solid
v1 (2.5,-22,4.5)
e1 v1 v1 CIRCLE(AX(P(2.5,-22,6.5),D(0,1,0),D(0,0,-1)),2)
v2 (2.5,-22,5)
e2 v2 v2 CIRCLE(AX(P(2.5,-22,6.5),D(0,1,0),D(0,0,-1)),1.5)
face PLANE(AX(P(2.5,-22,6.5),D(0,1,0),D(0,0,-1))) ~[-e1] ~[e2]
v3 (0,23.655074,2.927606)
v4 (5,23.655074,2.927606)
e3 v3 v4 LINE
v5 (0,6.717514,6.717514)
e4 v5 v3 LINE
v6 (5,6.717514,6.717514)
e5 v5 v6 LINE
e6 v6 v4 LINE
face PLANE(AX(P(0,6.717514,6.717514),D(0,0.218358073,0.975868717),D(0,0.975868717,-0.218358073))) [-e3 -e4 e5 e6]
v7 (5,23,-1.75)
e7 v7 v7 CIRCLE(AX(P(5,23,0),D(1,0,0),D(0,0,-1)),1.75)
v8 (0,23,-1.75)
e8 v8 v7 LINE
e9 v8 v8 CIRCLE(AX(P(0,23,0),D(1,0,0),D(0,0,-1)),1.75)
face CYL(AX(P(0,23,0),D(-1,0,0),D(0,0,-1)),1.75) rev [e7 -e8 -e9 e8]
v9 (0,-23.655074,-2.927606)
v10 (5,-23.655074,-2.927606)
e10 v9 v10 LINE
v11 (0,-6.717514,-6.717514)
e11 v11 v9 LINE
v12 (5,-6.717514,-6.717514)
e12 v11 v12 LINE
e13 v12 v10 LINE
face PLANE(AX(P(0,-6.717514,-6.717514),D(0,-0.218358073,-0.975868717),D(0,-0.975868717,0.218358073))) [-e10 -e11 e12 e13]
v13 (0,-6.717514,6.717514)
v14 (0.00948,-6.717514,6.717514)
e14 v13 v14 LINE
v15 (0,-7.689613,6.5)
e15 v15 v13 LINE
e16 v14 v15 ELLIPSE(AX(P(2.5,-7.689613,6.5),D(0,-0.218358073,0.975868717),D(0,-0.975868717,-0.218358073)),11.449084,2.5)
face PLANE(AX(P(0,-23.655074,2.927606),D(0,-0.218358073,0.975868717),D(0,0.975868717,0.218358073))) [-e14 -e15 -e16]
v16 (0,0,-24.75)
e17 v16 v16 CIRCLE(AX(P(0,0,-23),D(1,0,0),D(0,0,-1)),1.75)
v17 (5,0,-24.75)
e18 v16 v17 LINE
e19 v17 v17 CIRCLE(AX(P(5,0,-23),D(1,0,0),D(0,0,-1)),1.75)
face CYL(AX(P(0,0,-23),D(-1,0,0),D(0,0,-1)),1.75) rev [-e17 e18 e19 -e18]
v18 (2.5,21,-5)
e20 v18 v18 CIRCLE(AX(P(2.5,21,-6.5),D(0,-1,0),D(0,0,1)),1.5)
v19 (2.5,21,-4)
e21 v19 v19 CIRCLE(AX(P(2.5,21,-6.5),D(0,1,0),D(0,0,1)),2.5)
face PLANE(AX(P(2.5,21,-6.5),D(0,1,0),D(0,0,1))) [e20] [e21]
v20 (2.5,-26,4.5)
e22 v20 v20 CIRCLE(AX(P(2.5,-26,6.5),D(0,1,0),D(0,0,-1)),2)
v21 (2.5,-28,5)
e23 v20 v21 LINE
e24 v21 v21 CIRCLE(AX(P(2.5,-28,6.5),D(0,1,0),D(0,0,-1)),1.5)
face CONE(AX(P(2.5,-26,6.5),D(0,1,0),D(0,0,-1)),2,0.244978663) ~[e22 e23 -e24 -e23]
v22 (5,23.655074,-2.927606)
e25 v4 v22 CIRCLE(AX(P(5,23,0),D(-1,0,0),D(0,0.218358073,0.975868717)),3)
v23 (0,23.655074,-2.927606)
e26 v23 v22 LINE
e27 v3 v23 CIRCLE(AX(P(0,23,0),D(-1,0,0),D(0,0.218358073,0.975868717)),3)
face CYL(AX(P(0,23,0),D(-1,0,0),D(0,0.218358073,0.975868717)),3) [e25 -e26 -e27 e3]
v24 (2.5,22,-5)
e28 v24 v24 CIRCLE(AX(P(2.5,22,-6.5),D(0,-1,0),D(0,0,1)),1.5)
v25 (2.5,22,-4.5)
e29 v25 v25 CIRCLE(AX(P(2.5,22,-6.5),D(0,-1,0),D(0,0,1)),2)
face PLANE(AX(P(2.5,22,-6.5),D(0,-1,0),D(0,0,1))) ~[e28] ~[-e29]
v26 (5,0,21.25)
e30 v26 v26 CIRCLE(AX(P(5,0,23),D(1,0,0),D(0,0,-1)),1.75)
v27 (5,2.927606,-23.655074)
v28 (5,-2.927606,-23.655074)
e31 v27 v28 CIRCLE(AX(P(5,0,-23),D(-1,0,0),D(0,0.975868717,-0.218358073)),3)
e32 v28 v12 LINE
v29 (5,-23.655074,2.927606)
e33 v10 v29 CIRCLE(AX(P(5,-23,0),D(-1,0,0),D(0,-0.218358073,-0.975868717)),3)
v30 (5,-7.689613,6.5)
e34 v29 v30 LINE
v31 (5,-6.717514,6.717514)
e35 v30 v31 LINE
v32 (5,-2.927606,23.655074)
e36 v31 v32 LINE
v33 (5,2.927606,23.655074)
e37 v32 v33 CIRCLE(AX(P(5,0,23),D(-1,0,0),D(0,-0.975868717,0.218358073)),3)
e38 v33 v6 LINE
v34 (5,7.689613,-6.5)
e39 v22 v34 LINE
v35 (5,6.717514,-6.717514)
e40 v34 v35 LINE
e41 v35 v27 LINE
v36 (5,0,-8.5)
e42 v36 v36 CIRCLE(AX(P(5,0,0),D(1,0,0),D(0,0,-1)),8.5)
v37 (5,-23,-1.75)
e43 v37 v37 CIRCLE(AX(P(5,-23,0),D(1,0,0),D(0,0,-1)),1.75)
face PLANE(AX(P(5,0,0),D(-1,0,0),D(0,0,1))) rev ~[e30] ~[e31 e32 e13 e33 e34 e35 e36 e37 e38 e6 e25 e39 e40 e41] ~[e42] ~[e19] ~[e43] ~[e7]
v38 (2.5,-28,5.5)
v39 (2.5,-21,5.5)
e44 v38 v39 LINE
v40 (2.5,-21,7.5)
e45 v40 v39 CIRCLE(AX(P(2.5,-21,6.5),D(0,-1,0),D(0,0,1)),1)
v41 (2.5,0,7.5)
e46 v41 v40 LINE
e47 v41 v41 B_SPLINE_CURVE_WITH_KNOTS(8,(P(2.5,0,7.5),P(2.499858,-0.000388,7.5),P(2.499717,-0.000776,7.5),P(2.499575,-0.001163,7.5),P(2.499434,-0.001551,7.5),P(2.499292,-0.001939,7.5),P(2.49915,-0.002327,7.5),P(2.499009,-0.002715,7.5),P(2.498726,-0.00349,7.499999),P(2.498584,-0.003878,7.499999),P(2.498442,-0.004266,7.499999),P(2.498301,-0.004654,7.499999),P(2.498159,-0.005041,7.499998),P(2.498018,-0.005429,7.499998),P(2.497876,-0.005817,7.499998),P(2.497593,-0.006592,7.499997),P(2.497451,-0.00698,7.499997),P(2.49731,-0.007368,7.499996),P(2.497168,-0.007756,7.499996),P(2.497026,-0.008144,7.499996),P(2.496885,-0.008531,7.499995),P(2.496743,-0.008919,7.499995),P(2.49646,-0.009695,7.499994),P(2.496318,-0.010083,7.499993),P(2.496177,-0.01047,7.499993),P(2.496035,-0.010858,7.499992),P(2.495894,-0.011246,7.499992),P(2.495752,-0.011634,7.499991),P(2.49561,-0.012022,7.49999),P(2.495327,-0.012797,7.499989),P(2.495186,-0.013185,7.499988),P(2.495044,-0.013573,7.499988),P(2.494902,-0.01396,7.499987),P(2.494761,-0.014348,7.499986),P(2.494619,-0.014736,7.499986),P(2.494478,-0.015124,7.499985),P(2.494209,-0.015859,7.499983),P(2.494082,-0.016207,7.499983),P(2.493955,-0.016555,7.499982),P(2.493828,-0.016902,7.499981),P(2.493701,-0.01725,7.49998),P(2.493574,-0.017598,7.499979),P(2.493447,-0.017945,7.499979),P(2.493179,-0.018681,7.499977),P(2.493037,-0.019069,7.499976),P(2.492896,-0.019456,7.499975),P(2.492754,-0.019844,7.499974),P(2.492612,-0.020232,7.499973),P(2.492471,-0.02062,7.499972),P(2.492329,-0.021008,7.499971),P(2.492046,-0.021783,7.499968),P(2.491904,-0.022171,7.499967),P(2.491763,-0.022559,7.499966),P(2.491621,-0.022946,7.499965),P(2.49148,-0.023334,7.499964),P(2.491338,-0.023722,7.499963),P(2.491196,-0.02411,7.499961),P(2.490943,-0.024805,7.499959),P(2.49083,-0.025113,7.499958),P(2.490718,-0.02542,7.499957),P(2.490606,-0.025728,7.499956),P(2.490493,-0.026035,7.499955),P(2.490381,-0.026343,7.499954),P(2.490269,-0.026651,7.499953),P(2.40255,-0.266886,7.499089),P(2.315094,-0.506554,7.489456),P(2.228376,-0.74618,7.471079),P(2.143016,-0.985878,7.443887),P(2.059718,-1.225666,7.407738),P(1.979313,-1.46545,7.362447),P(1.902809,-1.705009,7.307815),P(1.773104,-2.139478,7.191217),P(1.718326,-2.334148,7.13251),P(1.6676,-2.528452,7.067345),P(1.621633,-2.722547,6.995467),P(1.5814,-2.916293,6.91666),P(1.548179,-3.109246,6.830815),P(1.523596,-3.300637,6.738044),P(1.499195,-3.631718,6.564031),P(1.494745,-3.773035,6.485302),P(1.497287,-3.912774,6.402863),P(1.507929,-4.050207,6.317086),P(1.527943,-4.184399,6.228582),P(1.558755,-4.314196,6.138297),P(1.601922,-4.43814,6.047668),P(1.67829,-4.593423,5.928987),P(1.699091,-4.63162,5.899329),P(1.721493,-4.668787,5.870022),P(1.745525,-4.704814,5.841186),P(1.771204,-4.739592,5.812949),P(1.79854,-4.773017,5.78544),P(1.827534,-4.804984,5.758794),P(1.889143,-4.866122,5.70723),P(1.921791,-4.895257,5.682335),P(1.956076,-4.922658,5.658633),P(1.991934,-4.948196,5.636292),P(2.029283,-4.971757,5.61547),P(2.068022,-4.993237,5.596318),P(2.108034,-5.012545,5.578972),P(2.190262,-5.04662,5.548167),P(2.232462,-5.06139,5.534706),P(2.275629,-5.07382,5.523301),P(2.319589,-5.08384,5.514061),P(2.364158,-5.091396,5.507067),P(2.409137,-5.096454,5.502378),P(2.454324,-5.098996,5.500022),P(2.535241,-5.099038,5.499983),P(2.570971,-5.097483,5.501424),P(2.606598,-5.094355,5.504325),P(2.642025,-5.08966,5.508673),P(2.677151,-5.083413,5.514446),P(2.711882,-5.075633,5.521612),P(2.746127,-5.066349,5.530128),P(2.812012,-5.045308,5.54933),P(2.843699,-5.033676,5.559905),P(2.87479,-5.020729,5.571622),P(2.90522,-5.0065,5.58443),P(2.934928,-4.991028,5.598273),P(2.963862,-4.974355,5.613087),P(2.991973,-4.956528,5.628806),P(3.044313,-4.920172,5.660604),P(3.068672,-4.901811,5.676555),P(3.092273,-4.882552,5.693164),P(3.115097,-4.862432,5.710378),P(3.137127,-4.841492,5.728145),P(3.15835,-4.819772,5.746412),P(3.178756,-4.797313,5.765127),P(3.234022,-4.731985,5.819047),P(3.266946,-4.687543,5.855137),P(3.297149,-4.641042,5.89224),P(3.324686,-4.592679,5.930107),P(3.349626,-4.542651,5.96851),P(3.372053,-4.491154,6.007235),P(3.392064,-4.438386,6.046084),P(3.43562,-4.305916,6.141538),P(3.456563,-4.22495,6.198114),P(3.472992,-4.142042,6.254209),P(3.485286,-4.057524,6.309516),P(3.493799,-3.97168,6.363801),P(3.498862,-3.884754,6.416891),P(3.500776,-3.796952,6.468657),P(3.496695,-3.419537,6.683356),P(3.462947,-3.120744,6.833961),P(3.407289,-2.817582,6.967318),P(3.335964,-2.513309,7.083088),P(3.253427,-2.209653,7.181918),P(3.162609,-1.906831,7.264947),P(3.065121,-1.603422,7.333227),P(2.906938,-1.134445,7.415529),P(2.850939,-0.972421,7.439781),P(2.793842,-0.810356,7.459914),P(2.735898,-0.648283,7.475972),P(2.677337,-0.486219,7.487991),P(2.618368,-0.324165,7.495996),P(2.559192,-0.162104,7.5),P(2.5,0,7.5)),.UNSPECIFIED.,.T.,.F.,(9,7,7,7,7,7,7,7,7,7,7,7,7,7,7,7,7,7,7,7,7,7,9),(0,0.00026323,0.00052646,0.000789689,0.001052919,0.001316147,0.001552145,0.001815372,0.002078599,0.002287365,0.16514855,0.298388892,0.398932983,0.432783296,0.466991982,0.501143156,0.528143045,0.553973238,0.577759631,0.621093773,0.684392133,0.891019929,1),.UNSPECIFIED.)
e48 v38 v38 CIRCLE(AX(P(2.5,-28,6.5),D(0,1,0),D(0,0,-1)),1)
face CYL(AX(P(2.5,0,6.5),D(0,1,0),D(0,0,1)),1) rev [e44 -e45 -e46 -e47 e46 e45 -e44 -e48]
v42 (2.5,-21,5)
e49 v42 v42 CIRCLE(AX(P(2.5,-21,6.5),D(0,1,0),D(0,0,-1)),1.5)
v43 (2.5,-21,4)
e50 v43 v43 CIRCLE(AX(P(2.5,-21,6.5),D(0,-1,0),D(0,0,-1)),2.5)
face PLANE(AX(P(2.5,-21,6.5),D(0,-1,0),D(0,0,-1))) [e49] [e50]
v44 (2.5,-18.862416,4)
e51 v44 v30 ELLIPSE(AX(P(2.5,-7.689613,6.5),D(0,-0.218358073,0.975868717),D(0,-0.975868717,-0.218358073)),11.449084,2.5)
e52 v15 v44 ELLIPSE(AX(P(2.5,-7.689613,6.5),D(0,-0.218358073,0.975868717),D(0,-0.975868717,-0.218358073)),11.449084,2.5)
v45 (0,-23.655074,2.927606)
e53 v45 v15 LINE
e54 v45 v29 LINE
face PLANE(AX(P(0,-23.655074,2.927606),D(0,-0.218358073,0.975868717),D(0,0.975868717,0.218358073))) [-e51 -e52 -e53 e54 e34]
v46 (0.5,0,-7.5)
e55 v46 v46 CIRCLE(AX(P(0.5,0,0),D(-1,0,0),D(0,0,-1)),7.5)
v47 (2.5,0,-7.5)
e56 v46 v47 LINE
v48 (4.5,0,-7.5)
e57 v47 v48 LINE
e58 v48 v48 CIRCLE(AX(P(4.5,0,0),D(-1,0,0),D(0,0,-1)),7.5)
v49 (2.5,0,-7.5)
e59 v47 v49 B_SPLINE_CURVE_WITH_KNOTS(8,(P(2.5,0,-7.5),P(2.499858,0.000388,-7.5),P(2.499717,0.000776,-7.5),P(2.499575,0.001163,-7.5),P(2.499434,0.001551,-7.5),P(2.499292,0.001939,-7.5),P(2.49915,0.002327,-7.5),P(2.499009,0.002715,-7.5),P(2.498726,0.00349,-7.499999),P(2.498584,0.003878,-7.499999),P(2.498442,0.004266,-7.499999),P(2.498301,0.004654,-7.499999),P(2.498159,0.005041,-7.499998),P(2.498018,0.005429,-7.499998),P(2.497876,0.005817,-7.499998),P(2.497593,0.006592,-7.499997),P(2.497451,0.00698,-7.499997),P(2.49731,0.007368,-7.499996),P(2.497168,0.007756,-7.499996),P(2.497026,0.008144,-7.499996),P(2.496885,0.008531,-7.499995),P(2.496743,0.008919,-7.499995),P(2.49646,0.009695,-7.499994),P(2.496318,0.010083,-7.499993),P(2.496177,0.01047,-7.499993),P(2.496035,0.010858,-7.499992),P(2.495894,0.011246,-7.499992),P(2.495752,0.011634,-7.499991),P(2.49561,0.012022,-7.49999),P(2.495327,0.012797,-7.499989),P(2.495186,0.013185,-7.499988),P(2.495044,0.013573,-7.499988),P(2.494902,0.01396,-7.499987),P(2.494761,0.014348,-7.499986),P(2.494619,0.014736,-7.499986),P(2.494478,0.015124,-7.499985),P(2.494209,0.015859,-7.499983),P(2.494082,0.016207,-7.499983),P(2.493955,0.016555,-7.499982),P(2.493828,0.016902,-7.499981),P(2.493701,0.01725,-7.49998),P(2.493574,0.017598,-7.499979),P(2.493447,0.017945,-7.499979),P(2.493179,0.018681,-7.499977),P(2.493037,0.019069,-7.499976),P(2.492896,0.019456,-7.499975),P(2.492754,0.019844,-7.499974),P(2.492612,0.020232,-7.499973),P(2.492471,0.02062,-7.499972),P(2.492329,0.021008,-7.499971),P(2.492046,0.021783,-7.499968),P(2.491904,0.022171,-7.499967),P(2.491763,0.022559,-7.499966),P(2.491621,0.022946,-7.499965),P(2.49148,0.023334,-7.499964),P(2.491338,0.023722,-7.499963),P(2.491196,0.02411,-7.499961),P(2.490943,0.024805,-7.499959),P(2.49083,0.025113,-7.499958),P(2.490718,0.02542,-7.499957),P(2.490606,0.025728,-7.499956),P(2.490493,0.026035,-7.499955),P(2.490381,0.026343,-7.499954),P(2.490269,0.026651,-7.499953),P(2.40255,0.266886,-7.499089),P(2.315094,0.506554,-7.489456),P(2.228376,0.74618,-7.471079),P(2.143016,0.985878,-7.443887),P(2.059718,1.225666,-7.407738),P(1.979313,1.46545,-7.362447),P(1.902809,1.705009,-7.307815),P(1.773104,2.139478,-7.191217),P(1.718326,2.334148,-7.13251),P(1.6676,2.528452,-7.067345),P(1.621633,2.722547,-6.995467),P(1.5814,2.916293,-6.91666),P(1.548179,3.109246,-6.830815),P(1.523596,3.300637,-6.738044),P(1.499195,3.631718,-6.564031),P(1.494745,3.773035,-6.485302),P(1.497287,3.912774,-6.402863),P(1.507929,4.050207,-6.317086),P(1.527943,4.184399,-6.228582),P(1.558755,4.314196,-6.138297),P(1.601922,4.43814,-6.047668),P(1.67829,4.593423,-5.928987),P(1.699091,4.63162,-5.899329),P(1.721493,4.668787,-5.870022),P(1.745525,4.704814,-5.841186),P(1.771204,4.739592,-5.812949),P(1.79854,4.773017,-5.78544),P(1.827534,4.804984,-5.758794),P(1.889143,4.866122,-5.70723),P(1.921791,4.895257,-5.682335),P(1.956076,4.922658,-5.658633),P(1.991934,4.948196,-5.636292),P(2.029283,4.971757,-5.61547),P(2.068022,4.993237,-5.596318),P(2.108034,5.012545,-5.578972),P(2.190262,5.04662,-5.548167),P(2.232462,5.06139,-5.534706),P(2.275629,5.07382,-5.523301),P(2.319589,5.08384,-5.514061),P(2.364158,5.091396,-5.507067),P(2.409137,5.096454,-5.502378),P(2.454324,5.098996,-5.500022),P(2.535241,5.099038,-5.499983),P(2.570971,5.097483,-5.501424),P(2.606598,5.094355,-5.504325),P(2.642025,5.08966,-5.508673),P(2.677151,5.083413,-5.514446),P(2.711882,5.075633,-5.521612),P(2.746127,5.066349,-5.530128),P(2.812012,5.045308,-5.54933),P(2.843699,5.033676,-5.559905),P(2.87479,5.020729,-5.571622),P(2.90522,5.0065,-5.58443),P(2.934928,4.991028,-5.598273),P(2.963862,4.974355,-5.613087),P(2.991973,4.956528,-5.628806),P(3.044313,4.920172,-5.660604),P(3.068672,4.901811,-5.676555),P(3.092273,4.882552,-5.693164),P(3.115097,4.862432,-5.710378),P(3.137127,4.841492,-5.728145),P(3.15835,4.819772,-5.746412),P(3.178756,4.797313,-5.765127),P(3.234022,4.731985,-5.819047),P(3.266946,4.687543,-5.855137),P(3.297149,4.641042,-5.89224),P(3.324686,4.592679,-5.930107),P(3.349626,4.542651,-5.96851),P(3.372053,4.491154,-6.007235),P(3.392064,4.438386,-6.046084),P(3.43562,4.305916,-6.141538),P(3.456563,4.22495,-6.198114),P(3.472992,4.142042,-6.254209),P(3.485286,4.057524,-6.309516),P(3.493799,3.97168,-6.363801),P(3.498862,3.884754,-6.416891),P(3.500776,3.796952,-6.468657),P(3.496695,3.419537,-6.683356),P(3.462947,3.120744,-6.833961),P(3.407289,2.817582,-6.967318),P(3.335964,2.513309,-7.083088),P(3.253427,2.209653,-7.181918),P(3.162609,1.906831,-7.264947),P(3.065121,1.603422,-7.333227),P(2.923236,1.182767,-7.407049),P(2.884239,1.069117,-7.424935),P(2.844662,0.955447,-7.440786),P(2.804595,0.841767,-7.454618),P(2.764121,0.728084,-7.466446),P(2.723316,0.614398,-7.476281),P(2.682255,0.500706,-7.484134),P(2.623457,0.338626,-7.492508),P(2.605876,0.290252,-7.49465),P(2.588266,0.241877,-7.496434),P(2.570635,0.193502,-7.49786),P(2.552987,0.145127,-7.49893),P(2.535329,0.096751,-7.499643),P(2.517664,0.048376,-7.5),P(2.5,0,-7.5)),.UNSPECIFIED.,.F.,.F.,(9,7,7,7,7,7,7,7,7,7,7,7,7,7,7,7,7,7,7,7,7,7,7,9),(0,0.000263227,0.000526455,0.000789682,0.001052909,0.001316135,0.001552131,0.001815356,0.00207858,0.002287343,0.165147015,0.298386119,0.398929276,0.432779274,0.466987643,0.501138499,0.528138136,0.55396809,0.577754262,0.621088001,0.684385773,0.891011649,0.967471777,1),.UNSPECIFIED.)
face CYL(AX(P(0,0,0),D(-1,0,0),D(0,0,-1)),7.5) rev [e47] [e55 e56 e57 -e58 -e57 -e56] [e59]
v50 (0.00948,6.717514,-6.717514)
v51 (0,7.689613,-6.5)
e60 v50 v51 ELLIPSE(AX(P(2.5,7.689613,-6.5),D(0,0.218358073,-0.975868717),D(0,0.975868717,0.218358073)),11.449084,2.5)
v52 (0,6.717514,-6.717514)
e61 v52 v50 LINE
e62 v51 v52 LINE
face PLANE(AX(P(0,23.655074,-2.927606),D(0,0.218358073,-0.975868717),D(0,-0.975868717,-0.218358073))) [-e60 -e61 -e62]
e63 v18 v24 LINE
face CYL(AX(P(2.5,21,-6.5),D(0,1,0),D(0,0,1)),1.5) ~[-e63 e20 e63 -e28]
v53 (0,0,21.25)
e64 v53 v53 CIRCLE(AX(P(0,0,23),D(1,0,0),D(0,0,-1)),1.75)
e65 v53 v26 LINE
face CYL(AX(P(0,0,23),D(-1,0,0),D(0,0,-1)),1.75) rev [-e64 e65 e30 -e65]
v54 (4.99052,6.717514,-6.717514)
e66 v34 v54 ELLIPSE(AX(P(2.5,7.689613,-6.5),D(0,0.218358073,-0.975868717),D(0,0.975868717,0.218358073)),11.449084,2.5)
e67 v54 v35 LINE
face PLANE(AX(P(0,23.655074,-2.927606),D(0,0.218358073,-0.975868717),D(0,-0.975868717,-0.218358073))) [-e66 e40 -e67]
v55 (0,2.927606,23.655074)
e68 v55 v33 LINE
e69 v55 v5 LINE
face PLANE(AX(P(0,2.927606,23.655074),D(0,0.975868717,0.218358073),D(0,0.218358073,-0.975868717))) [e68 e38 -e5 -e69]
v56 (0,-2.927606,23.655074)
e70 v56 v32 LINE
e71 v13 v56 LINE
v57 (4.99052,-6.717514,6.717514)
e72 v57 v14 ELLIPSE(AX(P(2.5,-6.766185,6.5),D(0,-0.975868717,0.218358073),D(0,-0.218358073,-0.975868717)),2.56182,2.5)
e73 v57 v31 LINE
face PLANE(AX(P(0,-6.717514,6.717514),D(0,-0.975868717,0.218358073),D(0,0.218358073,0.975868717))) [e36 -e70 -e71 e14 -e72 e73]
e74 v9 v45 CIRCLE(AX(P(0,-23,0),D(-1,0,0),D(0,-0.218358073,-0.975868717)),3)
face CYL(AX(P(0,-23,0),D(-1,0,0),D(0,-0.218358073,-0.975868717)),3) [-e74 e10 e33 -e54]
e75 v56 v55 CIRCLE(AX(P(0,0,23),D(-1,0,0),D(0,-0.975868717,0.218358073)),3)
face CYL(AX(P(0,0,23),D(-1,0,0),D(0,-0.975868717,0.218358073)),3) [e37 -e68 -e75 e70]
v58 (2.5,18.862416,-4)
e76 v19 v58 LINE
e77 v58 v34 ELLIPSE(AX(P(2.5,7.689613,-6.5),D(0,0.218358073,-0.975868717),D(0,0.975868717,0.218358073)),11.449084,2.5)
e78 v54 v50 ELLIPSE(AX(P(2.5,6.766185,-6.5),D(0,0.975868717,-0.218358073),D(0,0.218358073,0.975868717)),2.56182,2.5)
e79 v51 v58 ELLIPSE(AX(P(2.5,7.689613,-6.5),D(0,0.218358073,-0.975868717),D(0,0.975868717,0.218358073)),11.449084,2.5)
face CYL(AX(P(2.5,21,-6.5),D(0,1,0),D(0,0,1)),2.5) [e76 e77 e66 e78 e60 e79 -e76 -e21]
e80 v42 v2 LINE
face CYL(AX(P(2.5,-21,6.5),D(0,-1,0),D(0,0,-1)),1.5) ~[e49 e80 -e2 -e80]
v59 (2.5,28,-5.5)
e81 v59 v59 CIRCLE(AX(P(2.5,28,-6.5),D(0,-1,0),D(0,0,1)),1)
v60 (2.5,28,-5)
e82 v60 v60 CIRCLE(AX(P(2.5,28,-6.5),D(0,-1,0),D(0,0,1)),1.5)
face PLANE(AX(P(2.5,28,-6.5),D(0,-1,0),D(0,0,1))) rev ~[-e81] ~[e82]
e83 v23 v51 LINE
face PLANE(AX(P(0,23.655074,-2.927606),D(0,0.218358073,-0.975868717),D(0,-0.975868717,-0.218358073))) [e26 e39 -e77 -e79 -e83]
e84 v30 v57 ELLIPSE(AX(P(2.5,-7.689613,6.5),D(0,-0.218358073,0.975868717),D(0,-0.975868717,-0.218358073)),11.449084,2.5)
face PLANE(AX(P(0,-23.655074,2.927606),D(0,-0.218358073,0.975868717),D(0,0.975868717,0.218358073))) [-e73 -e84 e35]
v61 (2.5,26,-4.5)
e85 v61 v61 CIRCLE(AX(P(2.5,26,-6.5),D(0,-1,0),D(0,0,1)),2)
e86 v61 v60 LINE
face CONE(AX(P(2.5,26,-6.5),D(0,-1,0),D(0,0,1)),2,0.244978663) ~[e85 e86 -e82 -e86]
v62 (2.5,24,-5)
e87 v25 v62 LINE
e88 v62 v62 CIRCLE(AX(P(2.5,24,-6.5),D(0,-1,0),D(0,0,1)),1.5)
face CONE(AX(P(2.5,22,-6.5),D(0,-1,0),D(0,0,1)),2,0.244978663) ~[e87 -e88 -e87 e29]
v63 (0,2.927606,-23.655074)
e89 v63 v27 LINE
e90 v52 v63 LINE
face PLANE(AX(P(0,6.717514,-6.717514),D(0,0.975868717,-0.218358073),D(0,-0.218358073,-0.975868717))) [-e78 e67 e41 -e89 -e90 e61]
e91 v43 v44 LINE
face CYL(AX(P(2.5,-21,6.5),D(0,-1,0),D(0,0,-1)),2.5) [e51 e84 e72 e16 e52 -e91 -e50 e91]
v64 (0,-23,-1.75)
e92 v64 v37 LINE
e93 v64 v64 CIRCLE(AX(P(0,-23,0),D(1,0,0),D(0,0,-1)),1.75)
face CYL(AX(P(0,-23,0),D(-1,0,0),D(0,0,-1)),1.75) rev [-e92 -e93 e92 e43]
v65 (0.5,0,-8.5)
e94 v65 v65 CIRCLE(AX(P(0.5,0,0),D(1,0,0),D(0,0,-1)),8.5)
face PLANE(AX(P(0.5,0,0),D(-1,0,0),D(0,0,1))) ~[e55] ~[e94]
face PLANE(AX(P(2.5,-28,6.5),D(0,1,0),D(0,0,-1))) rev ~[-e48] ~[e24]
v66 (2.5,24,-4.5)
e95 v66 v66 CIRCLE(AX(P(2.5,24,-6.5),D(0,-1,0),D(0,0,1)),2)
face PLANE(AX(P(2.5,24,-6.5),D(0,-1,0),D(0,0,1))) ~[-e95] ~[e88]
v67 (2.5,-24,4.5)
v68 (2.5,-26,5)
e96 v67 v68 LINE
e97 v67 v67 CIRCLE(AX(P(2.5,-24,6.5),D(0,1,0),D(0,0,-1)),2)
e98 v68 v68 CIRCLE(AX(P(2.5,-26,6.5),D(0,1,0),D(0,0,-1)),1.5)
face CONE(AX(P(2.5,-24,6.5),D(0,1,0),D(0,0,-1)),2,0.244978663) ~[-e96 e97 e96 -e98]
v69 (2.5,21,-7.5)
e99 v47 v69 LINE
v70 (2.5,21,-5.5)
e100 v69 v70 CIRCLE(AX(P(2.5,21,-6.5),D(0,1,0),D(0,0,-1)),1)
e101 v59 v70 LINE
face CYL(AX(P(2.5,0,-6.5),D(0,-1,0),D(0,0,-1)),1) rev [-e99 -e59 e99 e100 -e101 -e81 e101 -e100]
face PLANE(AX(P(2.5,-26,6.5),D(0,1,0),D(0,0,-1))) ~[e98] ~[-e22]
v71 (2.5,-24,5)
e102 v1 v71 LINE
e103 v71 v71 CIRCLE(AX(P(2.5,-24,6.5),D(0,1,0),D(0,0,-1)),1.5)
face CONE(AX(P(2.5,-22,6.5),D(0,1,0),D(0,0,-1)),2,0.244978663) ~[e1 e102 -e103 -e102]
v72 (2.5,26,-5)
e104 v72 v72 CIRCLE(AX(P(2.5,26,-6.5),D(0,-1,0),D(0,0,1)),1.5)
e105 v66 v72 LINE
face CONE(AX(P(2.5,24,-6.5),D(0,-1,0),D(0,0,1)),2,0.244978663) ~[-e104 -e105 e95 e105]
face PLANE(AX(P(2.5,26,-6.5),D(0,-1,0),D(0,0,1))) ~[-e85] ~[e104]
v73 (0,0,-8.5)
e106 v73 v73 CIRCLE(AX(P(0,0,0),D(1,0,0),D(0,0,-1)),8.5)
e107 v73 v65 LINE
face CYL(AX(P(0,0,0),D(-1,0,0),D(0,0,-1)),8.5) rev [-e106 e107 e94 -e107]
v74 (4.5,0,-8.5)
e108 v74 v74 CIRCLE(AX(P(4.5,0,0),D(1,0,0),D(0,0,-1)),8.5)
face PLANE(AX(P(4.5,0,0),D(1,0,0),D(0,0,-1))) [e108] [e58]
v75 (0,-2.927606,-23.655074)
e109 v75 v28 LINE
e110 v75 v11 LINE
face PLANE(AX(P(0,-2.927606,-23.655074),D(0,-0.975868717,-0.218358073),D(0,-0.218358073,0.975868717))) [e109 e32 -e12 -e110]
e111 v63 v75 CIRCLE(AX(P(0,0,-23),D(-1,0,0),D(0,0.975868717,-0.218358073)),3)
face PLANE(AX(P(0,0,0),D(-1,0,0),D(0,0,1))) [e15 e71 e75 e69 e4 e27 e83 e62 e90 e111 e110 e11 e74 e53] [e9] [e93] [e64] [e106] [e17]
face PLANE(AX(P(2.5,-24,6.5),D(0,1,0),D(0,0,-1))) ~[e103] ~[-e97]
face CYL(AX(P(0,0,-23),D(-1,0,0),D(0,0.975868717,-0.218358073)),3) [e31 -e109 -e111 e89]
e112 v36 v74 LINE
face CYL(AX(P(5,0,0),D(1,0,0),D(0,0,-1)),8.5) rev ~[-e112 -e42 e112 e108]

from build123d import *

# Parameters (mm, degrees)
SKETCH2_R           = 1.75
SKETCH2_R_2         = 7.5
FLANGE_DEPTH        = 5
SKETCH3_R           = 8.5
O_RING_SEAT_DEPTH   = 0.5
SKETCH5_R           = 1
OUTLET_DEPTH        = 38.107950631
BOSS_EXTRUDE2_REACH = 55.944
SKETCH6_R           = 2.5
SKETCH6_R_2         = 1
CIRPATTERN1_COUNT   = 2


with BuildPart() as part:
    # Sketch2 → Flange (new body)
    with BuildSketch(Plane(origin=(0, 0, 0), x_dir=(0, 0, -1), z_dir=(1, 0, 0))):
        with BuildLine():
            Line((-6.717514421, 6.717514421), (-2.92760615, 23.655074219))
            ThreePointArc((-2.92760615, 23.655074219), (0, 26), (2.92760615, 23.655074219))
            Line((2.92760615, 23.655074219), (6.717514421, 6.717514421))
            Line((6.717514421, 6.717514421), (23.655074219, 2.92760615))
            ThreePointArc((23.655074219, 2.92760615), (26, 0), (23.655074219, -2.92760615))
            Line((23.655074219, -2.92760615), (6.717514421, -6.717514421))
            Line((6.717514421, -6.717514421), (2.92760615, -23.655074219))
            ThreePointArc((2.92760615, -23.655074219), (0, -26), (-2.92760615, -23.655074219))
            Line((-2.92760615, -23.655074219), (-6.717514421, -6.717514421))
            Line((-6.717514421, -6.717514421), (-23.655074219, -2.92760615))
            ThreePointArc((-23.655074219, -2.92760615), (-26, 0), (-23.655074219, 2.92760615))
            Line((-23.655074219, 2.92760615), (-6.717514421, 6.717514421))
        make_face()
        with Locations((0, 23)):
            Circle(SKETCH2_R, mode=Mode.SUBTRACT)
        with Locations((23, 0)):
            Circle(SKETCH2_R, mode=Mode.SUBTRACT)
        with Locations((0, -23)):
            Circle(SKETCH2_R, mode=Mode.SUBTRACT)
        with Locations((-23, 0)):
            Circle(SKETCH2_R, mode=Mode.SUBTRACT)
        Circle(SKETCH2_R_2, mode=Mode.SUBTRACT)
    extrude(amount=FLANGE_DEPTH)

    # Sketch3 → O-Ring Seat (cut)
    with BuildSketch(Plane(origin=(5, 0, 0), x_dir=(0, 0, -1), z_dir=(1, 0, 0))):
        Circle(SKETCH3_R)
    o_ring_seat = extrude(amount=-O_RING_SEAT_DEPTH, mode=Mode.SUBTRACT)

    # Mirror1: O-Ring Seat across plane
    add(o_ring_seat.mirror(Plane(origin=(2.5, 0, 0), x_dir=(0, 0, 1), z_dir=(1, 0, 0))), mode=Mode.SUBTRACT)

    # Sketch5 → Outlet (cut, through all)
    with BuildSketch(Plane(origin=(0, 0, 0), x_dir=(1, 0, 0), z_dir=(0, 1, 0))):
        with Locations(Location((2.5, 6.5, 0), (0, 0, 90))):
            Circle(SKETCH5_R)
    outlet = extrude(amount=OUTLET_DEPTH, mode=Mode.SUBTRACT)

    # Sketch6 → Boss-Extrude2 (add, up to next)
    with BuildSketch(Plane(origin=(0, 21, 0), x_dir=(1, 0, 0), z_dir=(0, 1, 0)), mode=Mode.PRIVATE) as boss_extrude2_sk1:
        with Locations(Location((2.5, 6.5, 0), (0, 0, 270))):
            Circle(SKETCH6_R)
        with Locations(Location((2.5, 6.5, 0), (0, 0, 90))):
            Circle(SKETCH6_R_2, mode=Mode.SUBTRACT)
    boss_extrude2_tool1 = extrude(boss_extrude2_sk1.sketch, amount=-BOSS_EXTRUDE2_REACH, mode=Mode.PRIVATE) - part.part
    boss_extrude2 = boss_extrude2_tool1.solids().sort_by_distance((2.5, 21, -8.929289))[0]
    add(boss_extrude2)

    # Sketch8 → Revolve1 (revolve)
    with BuildSketch(Plane(origin=(2.5, 0, 0), x_dir=(0, 0, -1), z_dir=(1, 0, 0))):
        Polygon((5, 21), (5, 22), (4.5, 22), (5, 24), (4.5, 24), (5, 26), (4.5, 26), (5, 28), (5.5, 28), (5.5, 21), align=None)
    revolve1 = revolve(axis=Axis((2.5, 26, -6.5), (0, -1, 0)))

    # CirPattern1: Outlet, Boss-Extrude2, Revolve1 ×2 about axis
    cirpattern1_axis = Axis((0.5, 0, 0), (-1, 0, 0))
    add([outlet.rotate(cirpattern1_axis, i * 360 / CIRPATTERN1_COUNT) for i in range(1, CIRPATTERN1_COUNT)], mode=Mode.SUBTRACT)
    add([boss_extrude2.rotate(cirpattern1_axis, i * 360 / CIRPATTERN1_COUNT) for i in range(1, CIRPATTERN1_COUNT)])
    add([revolve1.rotate(cirpattern1_axis, i * 360 / CIRPATTERN1_COUNT) for i in range(1, CIRPATTERN1_COUNT)])


solid = part.part
